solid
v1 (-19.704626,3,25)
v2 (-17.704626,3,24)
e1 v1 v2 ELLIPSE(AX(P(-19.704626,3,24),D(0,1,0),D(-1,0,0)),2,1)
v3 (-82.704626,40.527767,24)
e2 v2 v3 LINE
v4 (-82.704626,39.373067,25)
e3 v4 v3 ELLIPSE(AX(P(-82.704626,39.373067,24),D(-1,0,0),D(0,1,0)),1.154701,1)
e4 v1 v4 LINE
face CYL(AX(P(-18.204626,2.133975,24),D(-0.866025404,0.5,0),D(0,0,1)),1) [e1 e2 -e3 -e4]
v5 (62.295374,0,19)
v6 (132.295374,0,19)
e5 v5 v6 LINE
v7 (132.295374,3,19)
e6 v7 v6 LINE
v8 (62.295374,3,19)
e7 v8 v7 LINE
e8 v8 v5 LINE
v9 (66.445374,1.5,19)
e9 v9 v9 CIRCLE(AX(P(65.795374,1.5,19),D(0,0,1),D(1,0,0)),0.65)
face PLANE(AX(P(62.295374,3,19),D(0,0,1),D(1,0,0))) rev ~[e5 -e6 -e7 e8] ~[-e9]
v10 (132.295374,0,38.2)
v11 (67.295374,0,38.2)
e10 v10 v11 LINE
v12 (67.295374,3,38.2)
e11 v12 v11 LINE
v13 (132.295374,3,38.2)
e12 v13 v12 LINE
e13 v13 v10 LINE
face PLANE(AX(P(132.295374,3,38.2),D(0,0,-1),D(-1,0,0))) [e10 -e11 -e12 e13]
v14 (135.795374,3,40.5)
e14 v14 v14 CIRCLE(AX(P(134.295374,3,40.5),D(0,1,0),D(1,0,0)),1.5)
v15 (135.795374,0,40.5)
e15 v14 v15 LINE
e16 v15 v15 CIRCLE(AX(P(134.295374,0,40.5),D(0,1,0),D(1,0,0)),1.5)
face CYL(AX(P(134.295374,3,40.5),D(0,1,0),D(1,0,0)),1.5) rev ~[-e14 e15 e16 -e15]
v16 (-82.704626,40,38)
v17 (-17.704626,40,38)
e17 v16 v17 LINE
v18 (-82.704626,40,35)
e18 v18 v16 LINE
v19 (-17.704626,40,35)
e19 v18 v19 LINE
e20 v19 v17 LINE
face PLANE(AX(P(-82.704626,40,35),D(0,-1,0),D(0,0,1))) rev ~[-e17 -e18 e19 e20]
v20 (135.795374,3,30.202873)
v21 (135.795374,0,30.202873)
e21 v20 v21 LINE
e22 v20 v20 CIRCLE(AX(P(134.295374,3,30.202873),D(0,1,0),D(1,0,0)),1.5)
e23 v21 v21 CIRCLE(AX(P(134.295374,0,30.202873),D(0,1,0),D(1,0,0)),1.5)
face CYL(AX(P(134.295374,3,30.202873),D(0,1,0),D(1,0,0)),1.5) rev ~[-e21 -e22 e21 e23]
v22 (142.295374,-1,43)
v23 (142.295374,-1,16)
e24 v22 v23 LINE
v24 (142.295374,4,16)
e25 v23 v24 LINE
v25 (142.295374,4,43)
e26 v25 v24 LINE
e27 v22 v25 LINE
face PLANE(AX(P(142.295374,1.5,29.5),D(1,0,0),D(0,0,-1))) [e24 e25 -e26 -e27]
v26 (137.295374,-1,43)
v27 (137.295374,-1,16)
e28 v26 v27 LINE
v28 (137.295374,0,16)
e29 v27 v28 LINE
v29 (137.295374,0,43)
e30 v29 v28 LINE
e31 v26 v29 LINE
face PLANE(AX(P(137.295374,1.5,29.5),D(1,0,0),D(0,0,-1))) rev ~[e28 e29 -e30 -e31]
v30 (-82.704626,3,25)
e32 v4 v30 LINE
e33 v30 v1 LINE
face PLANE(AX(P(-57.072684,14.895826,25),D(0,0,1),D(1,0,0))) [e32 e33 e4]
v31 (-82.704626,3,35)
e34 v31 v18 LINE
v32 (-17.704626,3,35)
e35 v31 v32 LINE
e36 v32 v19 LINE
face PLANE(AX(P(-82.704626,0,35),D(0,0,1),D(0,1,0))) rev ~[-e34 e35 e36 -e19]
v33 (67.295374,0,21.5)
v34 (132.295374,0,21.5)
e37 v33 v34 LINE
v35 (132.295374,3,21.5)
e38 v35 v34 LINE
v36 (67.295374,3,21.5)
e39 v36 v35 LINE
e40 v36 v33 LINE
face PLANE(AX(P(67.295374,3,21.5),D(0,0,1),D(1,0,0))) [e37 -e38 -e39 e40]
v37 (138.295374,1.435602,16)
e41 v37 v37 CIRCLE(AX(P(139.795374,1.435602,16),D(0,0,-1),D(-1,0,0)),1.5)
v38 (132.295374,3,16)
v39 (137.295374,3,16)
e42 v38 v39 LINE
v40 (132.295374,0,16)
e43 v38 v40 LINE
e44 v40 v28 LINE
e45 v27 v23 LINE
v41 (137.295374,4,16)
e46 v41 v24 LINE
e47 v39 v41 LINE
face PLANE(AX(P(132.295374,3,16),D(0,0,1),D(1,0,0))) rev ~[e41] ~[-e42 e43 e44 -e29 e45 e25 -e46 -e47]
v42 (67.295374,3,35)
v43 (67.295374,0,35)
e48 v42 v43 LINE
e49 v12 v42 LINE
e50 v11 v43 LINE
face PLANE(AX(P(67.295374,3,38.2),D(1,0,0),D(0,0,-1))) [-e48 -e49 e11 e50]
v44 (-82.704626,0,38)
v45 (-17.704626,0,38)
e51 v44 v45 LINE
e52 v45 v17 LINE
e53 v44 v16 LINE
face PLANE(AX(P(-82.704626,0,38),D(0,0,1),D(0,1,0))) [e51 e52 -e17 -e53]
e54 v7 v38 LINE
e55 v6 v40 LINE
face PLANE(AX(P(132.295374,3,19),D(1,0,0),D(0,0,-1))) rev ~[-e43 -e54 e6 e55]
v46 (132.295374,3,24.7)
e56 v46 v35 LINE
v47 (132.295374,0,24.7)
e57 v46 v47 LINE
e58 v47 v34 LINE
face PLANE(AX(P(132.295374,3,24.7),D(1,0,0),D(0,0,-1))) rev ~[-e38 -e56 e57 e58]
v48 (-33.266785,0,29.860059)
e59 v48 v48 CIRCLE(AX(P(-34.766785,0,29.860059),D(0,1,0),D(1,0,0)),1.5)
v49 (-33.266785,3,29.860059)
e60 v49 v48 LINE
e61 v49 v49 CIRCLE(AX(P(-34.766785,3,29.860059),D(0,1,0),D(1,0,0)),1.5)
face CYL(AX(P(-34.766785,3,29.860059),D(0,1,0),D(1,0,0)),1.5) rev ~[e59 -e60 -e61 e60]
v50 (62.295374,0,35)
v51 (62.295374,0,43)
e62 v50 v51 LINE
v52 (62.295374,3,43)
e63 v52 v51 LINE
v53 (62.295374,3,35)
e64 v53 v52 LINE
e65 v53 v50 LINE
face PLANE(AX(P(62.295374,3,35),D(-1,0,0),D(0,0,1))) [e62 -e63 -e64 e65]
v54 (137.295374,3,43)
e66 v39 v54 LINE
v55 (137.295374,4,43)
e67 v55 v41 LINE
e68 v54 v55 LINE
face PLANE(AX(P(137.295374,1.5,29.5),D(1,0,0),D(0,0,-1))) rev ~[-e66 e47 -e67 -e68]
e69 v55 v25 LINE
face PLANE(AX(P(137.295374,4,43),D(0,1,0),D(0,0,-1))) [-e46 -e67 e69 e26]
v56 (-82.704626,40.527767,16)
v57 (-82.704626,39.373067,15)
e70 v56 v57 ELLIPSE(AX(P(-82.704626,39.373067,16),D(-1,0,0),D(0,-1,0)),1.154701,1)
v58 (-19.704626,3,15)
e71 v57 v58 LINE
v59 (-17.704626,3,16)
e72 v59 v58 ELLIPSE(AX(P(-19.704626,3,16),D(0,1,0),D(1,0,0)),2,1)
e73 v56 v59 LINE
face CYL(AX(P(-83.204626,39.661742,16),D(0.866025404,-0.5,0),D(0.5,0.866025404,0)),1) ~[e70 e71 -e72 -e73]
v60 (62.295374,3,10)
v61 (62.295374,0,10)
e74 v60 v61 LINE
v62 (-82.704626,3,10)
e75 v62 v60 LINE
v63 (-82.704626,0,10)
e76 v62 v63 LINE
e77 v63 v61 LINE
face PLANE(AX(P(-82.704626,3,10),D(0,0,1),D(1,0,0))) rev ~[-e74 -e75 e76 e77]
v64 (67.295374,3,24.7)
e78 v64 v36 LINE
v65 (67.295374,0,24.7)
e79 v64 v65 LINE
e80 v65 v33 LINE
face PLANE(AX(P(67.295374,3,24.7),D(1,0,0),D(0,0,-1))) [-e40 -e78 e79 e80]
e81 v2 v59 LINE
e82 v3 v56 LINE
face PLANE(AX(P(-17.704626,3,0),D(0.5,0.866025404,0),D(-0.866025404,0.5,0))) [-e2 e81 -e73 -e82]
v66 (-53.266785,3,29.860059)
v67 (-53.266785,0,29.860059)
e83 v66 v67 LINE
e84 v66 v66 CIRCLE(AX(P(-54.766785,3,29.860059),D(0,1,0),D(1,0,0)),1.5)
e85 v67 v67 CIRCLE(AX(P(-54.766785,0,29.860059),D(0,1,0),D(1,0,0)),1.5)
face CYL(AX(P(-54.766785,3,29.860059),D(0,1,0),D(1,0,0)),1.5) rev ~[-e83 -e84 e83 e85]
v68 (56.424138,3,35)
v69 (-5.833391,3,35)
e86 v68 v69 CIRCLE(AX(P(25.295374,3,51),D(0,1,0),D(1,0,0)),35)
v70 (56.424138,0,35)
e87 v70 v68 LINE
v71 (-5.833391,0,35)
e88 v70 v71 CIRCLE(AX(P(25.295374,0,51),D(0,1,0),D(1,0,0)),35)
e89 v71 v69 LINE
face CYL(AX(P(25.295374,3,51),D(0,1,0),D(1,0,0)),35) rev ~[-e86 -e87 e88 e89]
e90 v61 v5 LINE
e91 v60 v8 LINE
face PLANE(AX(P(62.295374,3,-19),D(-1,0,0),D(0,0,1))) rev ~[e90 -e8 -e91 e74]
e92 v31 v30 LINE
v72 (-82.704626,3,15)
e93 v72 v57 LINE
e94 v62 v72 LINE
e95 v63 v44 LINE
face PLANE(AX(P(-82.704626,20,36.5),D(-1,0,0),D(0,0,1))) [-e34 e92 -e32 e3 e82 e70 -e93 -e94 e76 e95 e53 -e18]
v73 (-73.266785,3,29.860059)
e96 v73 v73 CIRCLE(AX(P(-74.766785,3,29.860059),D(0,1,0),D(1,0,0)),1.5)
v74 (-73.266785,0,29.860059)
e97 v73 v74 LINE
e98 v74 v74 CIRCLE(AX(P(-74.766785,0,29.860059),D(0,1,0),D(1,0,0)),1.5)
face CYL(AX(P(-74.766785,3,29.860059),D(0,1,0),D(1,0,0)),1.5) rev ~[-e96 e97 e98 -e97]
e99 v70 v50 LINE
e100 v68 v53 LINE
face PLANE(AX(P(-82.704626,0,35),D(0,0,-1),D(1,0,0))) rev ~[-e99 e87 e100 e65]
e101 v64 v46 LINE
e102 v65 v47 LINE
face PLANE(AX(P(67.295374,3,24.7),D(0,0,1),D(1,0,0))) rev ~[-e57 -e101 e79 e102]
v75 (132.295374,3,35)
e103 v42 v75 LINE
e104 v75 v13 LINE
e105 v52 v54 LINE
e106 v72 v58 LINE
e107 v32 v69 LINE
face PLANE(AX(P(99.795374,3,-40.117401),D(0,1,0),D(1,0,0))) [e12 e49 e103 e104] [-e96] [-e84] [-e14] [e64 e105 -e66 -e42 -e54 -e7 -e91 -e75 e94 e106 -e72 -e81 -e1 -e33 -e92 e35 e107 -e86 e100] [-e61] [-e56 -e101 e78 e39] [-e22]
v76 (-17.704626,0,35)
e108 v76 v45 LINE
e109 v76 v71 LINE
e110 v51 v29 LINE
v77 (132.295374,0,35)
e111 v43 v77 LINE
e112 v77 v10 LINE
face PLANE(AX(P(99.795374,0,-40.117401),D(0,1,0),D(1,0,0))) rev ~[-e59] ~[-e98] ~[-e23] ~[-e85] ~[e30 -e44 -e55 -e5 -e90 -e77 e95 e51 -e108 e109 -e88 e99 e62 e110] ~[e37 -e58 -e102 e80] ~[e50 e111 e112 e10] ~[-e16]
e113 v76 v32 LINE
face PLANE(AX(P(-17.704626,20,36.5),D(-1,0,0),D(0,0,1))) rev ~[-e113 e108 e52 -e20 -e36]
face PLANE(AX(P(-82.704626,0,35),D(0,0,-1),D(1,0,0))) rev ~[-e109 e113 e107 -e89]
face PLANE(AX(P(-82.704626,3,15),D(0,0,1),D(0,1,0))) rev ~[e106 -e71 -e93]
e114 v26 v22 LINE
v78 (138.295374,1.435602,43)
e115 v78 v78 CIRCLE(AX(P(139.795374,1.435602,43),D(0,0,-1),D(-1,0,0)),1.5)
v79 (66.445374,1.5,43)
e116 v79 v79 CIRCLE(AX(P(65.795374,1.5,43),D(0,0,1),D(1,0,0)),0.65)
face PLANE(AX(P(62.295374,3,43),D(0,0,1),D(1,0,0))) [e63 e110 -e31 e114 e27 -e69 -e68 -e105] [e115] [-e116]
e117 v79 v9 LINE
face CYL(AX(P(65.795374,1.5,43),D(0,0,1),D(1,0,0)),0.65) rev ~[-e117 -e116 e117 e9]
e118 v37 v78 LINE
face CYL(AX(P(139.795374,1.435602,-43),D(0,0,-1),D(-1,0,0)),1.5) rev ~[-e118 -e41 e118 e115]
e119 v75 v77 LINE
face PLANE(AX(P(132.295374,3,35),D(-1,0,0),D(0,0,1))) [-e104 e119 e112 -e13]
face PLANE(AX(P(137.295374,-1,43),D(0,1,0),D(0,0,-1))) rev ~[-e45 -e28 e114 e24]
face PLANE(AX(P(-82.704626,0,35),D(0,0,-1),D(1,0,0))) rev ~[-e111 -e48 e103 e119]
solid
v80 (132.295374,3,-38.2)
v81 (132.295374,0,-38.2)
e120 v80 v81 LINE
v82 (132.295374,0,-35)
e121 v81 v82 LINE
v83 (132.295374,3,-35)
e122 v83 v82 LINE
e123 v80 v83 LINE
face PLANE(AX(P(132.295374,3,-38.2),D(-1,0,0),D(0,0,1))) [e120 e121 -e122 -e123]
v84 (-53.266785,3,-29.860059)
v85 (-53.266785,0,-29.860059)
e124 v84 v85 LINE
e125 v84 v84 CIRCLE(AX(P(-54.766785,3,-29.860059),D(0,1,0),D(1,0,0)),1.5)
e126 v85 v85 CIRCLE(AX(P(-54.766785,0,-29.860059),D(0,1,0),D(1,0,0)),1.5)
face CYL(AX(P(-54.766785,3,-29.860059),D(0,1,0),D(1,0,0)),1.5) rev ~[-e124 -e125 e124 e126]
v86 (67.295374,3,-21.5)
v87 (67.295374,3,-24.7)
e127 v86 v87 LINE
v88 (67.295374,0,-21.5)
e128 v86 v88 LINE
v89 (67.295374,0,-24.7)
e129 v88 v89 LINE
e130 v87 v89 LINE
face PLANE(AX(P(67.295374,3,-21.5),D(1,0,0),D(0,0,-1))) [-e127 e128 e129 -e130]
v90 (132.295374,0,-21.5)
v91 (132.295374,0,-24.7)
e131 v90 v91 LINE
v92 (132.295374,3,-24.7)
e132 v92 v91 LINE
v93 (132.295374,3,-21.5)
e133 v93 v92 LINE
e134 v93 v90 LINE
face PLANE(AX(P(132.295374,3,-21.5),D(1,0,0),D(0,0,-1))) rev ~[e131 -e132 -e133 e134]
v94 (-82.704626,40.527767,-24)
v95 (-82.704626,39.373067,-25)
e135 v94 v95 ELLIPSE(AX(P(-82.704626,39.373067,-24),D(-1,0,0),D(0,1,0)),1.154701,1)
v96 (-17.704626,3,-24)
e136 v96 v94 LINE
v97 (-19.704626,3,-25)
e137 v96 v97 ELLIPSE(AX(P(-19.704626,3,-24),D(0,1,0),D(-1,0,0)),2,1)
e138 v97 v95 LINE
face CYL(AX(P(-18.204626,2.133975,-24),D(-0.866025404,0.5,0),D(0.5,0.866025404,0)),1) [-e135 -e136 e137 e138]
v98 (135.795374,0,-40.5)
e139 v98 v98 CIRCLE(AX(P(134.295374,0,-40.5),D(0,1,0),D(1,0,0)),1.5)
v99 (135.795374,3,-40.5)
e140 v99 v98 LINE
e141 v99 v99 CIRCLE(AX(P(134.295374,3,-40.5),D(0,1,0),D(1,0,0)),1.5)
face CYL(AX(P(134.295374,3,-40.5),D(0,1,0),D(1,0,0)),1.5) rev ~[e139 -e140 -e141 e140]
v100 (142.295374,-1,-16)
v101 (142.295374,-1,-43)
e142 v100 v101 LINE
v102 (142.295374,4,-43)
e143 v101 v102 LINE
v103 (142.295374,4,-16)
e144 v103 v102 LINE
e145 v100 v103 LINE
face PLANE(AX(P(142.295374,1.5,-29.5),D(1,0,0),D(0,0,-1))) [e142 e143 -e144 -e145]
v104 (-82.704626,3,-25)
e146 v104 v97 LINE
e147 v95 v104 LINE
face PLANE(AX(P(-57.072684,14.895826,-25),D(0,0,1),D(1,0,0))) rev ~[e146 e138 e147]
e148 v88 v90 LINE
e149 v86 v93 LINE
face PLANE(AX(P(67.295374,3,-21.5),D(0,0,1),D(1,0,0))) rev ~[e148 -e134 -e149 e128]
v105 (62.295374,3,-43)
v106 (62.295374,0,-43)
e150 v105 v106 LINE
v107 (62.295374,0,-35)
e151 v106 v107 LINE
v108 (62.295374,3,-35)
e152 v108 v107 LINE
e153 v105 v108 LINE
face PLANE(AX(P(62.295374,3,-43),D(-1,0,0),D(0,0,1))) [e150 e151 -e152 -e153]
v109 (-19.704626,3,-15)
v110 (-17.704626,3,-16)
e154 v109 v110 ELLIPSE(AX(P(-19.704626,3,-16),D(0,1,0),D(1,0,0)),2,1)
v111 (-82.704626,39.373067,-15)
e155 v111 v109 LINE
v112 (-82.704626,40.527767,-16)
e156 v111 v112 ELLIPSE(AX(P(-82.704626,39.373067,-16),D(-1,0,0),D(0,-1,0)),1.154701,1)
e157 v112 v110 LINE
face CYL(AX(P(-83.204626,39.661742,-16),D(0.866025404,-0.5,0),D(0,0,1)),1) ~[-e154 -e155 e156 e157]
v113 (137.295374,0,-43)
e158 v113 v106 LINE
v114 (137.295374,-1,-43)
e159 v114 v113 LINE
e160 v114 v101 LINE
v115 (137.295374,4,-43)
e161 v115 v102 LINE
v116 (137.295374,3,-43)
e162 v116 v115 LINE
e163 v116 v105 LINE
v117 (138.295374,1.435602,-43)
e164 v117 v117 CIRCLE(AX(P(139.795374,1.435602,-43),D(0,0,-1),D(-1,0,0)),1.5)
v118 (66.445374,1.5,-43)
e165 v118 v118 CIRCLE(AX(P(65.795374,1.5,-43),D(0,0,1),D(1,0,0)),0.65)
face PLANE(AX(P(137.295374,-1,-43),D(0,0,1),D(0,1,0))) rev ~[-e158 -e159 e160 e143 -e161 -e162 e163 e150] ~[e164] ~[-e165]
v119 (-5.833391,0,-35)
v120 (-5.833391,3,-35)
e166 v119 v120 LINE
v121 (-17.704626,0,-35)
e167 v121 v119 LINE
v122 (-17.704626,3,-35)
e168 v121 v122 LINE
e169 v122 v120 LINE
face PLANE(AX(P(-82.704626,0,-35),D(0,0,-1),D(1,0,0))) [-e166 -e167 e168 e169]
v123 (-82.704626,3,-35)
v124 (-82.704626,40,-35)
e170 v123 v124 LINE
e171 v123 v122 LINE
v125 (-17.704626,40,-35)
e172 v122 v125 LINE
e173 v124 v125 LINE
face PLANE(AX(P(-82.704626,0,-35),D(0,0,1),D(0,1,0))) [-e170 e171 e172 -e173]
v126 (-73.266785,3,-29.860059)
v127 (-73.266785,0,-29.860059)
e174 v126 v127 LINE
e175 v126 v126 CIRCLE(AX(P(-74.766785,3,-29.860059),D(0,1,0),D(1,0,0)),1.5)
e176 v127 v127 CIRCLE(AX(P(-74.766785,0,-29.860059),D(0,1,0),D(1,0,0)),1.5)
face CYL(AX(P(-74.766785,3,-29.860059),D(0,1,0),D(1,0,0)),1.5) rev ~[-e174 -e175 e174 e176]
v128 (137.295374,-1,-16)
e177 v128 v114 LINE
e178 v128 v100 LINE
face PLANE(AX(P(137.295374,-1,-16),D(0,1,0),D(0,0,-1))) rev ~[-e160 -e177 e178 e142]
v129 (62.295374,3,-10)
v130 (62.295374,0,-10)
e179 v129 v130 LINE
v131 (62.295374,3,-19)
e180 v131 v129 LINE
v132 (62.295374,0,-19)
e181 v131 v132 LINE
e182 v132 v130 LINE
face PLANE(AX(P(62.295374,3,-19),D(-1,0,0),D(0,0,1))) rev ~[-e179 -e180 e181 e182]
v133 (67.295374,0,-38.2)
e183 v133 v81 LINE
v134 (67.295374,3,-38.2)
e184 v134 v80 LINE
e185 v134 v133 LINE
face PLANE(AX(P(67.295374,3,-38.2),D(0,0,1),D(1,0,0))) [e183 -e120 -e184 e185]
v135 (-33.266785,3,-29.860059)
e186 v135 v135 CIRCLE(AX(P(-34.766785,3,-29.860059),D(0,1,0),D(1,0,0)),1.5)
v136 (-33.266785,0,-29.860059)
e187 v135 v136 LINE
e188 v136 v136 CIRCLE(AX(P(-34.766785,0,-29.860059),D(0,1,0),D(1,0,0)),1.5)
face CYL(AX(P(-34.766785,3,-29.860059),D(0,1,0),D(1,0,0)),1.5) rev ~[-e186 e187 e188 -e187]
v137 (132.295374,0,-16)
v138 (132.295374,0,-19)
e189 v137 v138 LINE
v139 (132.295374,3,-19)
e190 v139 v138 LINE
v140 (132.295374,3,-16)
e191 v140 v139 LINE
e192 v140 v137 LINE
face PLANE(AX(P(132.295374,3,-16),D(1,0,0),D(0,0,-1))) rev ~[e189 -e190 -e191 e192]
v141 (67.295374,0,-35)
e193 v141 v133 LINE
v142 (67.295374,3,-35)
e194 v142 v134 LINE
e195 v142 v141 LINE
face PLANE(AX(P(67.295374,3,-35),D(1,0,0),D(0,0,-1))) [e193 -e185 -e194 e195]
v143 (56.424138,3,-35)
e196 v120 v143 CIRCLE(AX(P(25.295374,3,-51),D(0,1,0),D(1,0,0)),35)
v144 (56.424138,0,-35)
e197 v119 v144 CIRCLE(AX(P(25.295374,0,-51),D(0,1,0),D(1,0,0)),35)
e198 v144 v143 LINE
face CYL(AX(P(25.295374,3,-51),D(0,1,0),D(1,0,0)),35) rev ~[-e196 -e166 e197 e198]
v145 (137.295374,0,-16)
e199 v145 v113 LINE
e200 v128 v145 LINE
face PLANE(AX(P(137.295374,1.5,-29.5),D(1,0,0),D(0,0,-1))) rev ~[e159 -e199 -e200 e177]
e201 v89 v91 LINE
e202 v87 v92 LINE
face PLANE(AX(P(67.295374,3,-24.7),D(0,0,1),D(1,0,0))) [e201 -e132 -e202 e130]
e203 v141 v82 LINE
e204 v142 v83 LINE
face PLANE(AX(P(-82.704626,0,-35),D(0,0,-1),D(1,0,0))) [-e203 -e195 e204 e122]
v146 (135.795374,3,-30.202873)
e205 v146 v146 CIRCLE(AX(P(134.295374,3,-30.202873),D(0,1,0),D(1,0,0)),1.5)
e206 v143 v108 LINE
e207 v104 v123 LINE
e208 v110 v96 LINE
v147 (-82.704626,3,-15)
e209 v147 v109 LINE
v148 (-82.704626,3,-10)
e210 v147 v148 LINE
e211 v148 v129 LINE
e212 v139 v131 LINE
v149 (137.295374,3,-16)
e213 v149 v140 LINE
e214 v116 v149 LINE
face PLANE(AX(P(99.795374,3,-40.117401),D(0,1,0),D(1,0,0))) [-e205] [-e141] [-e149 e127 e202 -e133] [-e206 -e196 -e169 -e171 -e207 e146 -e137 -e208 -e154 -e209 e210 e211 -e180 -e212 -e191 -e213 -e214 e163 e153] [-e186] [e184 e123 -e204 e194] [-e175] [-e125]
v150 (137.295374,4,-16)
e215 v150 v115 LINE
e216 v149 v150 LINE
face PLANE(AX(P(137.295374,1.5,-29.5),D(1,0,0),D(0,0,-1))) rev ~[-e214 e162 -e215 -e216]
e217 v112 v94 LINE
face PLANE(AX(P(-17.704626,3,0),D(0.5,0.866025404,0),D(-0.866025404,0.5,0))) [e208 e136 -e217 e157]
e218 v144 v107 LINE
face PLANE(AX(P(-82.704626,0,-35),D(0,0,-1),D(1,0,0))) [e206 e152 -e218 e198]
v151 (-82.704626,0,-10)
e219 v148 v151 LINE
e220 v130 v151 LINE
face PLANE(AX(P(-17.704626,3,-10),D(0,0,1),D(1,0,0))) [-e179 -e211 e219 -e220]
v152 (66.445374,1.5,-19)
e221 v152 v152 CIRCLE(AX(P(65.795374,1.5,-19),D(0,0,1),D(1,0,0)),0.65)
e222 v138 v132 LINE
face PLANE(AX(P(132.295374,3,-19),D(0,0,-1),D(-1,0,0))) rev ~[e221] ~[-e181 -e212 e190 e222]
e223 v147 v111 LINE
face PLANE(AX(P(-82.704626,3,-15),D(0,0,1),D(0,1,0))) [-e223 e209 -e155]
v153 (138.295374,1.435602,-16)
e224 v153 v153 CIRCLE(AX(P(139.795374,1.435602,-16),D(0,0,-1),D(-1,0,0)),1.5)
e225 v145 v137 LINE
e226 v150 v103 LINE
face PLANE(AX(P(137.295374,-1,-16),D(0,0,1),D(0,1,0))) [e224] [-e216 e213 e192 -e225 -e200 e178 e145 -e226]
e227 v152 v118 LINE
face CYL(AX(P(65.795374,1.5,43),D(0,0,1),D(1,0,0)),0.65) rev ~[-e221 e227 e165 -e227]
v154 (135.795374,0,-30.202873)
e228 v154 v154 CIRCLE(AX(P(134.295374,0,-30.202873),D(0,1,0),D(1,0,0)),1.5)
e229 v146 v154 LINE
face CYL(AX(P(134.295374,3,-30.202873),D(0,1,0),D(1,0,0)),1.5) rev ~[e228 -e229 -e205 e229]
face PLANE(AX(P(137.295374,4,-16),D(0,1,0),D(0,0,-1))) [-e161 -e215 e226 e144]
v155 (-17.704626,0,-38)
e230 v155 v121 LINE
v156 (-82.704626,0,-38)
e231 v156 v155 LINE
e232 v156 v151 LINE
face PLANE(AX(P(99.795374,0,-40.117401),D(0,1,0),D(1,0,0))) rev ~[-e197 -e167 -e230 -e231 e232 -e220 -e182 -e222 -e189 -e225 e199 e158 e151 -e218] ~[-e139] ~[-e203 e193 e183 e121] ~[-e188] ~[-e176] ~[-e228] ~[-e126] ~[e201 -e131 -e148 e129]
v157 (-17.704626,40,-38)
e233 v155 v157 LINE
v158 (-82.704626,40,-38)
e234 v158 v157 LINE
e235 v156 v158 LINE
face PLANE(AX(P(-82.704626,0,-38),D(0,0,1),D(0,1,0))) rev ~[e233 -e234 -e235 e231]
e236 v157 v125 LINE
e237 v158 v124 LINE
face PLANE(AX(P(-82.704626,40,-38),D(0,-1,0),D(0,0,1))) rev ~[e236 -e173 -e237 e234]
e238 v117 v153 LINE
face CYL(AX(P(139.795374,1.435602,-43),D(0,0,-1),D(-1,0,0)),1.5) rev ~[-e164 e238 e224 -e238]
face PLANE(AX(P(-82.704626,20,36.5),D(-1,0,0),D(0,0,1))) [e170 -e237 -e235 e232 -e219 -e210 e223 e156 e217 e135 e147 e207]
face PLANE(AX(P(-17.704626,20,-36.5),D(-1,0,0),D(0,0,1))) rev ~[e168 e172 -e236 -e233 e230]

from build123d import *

# Parameters (mm, degrees)
SKETCH_1_W               = 220
SKETCH_1_H               = 70
EXTRUDE_1_DEPTH          = 3
EXTRUDE_2_DEPTH          = 25
EXTRUDE_2_DEPTH_BACK     = 25
SKETCH_6_W               = 30
SKETCH_6_H               = 37.527767497
CUT_EXTRUDE_4_DEPTH      = 221
SKETCH_7_R               = 35
CUT_EXTRUDE_5_DEPTH      = 4
SKETCH_8_W               = 3
SKETCH_8_H               = 40
EXTRUDE_3_DEPTH          = 65
SKETCH_9_R               = 1.5
CUT_EXTRUDE_6_DEPTH      = 4
FILLET_5_R               = 1
SKETCH_10_W              = 65
SKETCH_10_H              = 20
CUT_EXTRUDE_7_DEPTH      = 4
EXTRUDE_4283_DEPTH       = 3
SKETCH_12_W              = 65
SKETCH_12_H              = 3.2
CUT_EXTRUDE_4965_DEPTH   = 3
CUT_EXTRUDE_9_DEPTH      = 38.527767497
CUT_EXTRUDE_9_DEPTH_BACK = 3
SKETCH_14_R              = 0.65
CUT_EXTRUDE_10_DEPTH     = 87
SKETCH_17_W              = 27
SKETCH_17_H              = 5
EXTRUDE_4_DEPTH          = 5
SKETCH_19_R              = 1.5
CUT_EXTRUDE_11_DEPTH     = 87
SKETCH_20_R              = 1.5
CUT_EXTRUDE_12_DEPTH     = 5
SKETCH_21_W              = 80
SKETCH_21_H              = 20
CUT_EXTRUDE_15_DEPTH     = 10


with BuildPart() as part:
    # 草图1 → 凸台-拉伸1 (new body)
    with BuildSketch(Plane(origin=(0, 0, 0), x_dir=(1, 0, 0), z_dir=(0, 1, 0))):
        with Locations((27.295373665, 0)):
            Rectangle(SKETCH_1_W, SKETCH_1_H)
    extrude(amount=EXTRUDE_1_DEPTH)

    # 草图2 → 凸台-拉伸2 (add, two sides)
    with BuildSketch(Plane.XY) as extrude_2_sk:
        Polygon((-82.704626335, 40.527767497), (-82.704626335, 3), (-17.704626335, 3), align=None)
    extrude(amount=EXTRUDE_2_DEPTH)
    extrude(extrude_2_sk.sketch, amount=-EXTRUDE_2_DEPTH_BACK)

    # 草图6 → 切除-拉伸4 (cut, through all)
    with BuildSketch(Plane.ZY.offset(82.704626335)):
        with Locations((0, 21.763883748)):
            Rectangle(SKETCH_6_W, SKETCH_6_H)
    extrude(amount=-CUT_EXTRUDE_4_DEPTH, mode=Mode.SUBTRACT)

    # 草图7 → 切除-拉伸5 (cut, through all)
    with BuildSketch(Plane(origin=(0, 3, 0), x_dir=(1, 0, 0), z_dir=(0, 1, 0))):
        with Locations((25.295373665, 51)):
            Circle(SKETCH_7_R)
        with Locations((25.295373665, -51)):
            Circle(SKETCH_7_R)
    extrude(amount=-CUT_EXTRUDE_5_DEPTH, mode=Mode.SUBTRACT)

    # 草图8 → 凸台-拉伸3 (add)
    with BuildSketch(Plane.ZY.offset(82.704626335)):
        with Locations((36.5, 20)):
            Rectangle(SKETCH_8_W, SKETCH_8_H)
        with Locations((-36.5, 20)):
            Rectangle(SKETCH_8_W, SKETCH_8_H)
    extrude(amount=-EXTRUDE_3_DEPTH)

    # 草图9 → 切除-拉伸6 (cut, through all)
    with BuildSketch(Plane(origin=(0, 3, 0), x_dir=(1, 0, 0), z_dir=(0, 1, 0))):
        with Locations((-74.766784803, 29.860059225)):
            Circle(SKETCH_9_R)
        with Locations((-54.766784803, 29.860059225)):
            Circle(SKETCH_9_R)
        with Locations((-34.766784803, 29.860059225)):
            Circle(SKETCH_9_R)
        with Locations((-34.766784803, -29.860059225)):
            Circle(SKETCH_9_R)
        with Locations((-54.766784803, -29.860059225)):
            Circle(SKETCH_9_R)
        with Locations((-74.766784803, -29.860059225)):
            Circle(SKETCH_9_R)
    extrude(amount=-CUT_EXTRUDE_6_DEPTH, mode=Mode.SUBTRACT)

    # 圆角5
    fillet_5_edges = [part.edges().sort_by_distance(p)[0] for p in [
        (-50.204626335, 21.763883749, -25),
        (-50.204626335, 21.763883749, 25),
        (-50.204626335, 21.763883749, -15),
        (-50.204626335, 21.763883749, 15),
    ]]
    fillet(fillet_5_edges, radius=FILLET_5_R)

    # 草图10 → 切除-拉伸7 (cut, through all)
    with BuildSketch(Plane(origin=(0, 3, 0), x_dir=(1, 0, 0), z_dir=(0, 1, 0))):
        with Locations((-50.204626335, 0)):
            Rectangle(SKETCH_10_W, SKETCH_10_H)
    extrude(amount=-CUT_EXTRUDE_7_DEPTH, mode=Mode.SUBTRACT)

    # 草图11 → Extrude 4283 (add)
    with BuildSketch(Plane(origin=(0, 3, 0), x_dir=(1, 0, 0), z_dir=(0, 1, 0))):
        Polygon((132.295373665, 35), (137.295373665, 35), (137.295373665, 43), (62.295373665, 43), (62.295373665, 35), (67.295373665, 35), (67.295373665, 38.2), (132.295373665, 38.2), align=None)
        Polygon((137.295373665, -43), (137.295373665, -35), (132.295373665, -35), (132.295373665, -38.2), (67.295373665, -38.2), (67.295373665, -35), (62.295373665, -35), (62.295373665, -43), align=None)
    extrude(amount=-EXTRUDE_4283_DEPTH)

    # 草图12 → Cut-Extrude 4965 (cut)
    with BuildSketch(Plane(origin=(0, 3, 0), x_dir=(1, 0, 0), z_dir=(0, 1, 0))):
        with Locations((99.795373665, -23.1)):
            Rectangle(SKETCH_12_W, SKETCH_12_H)
        with Locations((99.795373665, 23.1)):
            Rectangle(SKETCH_12_W, SKETCH_12_H)
    extrude(amount=-CUT_EXTRUDE_4965_DEPTH, mode=Mode.SUBTRACT)

    # 草图13 → 切除-拉伸9 (cut, two sides)
    with BuildSketch(Plane(origin=(0, 3, 0), x_dir=(1, 0, 0), z_dir=(0, 1, 0))) as cut_extrude_9_sk:
        Polygon((62.295373665, 19), (62.295373665, -19), (132.295373665, -19), (132.295373665, -16), (137.295373665, -16), (137.295373665, 0), (137.295373665, 16), (132.295373665, 16), (132.295373665, 19), align=None)
    extrude(amount=CUT_EXTRUDE_9_DEPTH, mode=Mode.SUBTRACT)
    extrude(cut_extrude_9_sk.sketch, amount=-CUT_EXTRUDE_9_DEPTH_BACK, mode=Mode.SUBTRACT)

    # 草图14 → 切除-拉伸10 (cut, through all)
    with BuildSketch(Plane.XY.offset(43)):
        with Locations((65.795373665, 1.5)):
            Circle(SKETCH_14_R)
    extrude(amount=-CUT_EXTRUDE_10_DEPTH, mode=Mode.SUBTRACT)

    # 草图17 → 凸台-拉伸4 (add)
    with BuildSketch(Plane(origin=(137.295373665, 0, 0), x_dir=(0, 0, -1), z_dir=(1, 0, 0))):
        with Locations((29.5, 1.5)):
            Rectangle(SKETCH_17_W, SKETCH_17_H)
        with Locations((-29.5, 1.5)):
            Rectangle(SKETCH_17_W, SKETCH_17_H)
    extrude(amount=EXTRUDE_4_DEPTH)

    # 草图19 → 切除-拉伸11 (cut, through all)
    with BuildSketch(Plane(origin=(0, 0, -43), x_dir=(-1, 0, 0), z_dir=(0, 0, -1))):
        with Locations((-139.795373665, 1.435601605)):
            Circle(SKETCH_19_R)
    extrude(amount=-CUT_EXTRUDE_11_DEPTH, mode=Mode.SUBTRACT)

    # 草图20 → 切除-拉伸12 (cut, through all)
    with BuildSketch(Plane(origin=(0, 3, 0), x_dir=(1, 0, 0), z_dir=(0, 1, 0))):
        with Locations((134.295373665, 30.202873248)):
            Circle(SKETCH_20_R)
        with Locations((134.295373665, -30.202873248)):
            Circle(SKETCH_20_R)
        with Locations((134.295373665, 40.5)):
            Circle(SKETCH_20_R)
        with Locations((134.295373665, -40.5)):
            Circle(SKETCH_20_R)
    extrude(amount=-CUT_EXTRUDE_12_DEPTH, mode=Mode.SUBTRACT)

    # 草图21 → 切除-拉伸15 (cut)
    with BuildSketch(Plane(origin=(0, 3, 0), x_dir=(1, 0, 0), z_dir=(0, 1, 0))):
        with Locations((22.295373665, 0)):
            Rectangle(SKETCH_21_W, SKETCH_21_H)
    extrude(amount=-CUT_EXTRUDE_15_DEPTH, mode=Mode.SUBTRACT)


solid = part.part
